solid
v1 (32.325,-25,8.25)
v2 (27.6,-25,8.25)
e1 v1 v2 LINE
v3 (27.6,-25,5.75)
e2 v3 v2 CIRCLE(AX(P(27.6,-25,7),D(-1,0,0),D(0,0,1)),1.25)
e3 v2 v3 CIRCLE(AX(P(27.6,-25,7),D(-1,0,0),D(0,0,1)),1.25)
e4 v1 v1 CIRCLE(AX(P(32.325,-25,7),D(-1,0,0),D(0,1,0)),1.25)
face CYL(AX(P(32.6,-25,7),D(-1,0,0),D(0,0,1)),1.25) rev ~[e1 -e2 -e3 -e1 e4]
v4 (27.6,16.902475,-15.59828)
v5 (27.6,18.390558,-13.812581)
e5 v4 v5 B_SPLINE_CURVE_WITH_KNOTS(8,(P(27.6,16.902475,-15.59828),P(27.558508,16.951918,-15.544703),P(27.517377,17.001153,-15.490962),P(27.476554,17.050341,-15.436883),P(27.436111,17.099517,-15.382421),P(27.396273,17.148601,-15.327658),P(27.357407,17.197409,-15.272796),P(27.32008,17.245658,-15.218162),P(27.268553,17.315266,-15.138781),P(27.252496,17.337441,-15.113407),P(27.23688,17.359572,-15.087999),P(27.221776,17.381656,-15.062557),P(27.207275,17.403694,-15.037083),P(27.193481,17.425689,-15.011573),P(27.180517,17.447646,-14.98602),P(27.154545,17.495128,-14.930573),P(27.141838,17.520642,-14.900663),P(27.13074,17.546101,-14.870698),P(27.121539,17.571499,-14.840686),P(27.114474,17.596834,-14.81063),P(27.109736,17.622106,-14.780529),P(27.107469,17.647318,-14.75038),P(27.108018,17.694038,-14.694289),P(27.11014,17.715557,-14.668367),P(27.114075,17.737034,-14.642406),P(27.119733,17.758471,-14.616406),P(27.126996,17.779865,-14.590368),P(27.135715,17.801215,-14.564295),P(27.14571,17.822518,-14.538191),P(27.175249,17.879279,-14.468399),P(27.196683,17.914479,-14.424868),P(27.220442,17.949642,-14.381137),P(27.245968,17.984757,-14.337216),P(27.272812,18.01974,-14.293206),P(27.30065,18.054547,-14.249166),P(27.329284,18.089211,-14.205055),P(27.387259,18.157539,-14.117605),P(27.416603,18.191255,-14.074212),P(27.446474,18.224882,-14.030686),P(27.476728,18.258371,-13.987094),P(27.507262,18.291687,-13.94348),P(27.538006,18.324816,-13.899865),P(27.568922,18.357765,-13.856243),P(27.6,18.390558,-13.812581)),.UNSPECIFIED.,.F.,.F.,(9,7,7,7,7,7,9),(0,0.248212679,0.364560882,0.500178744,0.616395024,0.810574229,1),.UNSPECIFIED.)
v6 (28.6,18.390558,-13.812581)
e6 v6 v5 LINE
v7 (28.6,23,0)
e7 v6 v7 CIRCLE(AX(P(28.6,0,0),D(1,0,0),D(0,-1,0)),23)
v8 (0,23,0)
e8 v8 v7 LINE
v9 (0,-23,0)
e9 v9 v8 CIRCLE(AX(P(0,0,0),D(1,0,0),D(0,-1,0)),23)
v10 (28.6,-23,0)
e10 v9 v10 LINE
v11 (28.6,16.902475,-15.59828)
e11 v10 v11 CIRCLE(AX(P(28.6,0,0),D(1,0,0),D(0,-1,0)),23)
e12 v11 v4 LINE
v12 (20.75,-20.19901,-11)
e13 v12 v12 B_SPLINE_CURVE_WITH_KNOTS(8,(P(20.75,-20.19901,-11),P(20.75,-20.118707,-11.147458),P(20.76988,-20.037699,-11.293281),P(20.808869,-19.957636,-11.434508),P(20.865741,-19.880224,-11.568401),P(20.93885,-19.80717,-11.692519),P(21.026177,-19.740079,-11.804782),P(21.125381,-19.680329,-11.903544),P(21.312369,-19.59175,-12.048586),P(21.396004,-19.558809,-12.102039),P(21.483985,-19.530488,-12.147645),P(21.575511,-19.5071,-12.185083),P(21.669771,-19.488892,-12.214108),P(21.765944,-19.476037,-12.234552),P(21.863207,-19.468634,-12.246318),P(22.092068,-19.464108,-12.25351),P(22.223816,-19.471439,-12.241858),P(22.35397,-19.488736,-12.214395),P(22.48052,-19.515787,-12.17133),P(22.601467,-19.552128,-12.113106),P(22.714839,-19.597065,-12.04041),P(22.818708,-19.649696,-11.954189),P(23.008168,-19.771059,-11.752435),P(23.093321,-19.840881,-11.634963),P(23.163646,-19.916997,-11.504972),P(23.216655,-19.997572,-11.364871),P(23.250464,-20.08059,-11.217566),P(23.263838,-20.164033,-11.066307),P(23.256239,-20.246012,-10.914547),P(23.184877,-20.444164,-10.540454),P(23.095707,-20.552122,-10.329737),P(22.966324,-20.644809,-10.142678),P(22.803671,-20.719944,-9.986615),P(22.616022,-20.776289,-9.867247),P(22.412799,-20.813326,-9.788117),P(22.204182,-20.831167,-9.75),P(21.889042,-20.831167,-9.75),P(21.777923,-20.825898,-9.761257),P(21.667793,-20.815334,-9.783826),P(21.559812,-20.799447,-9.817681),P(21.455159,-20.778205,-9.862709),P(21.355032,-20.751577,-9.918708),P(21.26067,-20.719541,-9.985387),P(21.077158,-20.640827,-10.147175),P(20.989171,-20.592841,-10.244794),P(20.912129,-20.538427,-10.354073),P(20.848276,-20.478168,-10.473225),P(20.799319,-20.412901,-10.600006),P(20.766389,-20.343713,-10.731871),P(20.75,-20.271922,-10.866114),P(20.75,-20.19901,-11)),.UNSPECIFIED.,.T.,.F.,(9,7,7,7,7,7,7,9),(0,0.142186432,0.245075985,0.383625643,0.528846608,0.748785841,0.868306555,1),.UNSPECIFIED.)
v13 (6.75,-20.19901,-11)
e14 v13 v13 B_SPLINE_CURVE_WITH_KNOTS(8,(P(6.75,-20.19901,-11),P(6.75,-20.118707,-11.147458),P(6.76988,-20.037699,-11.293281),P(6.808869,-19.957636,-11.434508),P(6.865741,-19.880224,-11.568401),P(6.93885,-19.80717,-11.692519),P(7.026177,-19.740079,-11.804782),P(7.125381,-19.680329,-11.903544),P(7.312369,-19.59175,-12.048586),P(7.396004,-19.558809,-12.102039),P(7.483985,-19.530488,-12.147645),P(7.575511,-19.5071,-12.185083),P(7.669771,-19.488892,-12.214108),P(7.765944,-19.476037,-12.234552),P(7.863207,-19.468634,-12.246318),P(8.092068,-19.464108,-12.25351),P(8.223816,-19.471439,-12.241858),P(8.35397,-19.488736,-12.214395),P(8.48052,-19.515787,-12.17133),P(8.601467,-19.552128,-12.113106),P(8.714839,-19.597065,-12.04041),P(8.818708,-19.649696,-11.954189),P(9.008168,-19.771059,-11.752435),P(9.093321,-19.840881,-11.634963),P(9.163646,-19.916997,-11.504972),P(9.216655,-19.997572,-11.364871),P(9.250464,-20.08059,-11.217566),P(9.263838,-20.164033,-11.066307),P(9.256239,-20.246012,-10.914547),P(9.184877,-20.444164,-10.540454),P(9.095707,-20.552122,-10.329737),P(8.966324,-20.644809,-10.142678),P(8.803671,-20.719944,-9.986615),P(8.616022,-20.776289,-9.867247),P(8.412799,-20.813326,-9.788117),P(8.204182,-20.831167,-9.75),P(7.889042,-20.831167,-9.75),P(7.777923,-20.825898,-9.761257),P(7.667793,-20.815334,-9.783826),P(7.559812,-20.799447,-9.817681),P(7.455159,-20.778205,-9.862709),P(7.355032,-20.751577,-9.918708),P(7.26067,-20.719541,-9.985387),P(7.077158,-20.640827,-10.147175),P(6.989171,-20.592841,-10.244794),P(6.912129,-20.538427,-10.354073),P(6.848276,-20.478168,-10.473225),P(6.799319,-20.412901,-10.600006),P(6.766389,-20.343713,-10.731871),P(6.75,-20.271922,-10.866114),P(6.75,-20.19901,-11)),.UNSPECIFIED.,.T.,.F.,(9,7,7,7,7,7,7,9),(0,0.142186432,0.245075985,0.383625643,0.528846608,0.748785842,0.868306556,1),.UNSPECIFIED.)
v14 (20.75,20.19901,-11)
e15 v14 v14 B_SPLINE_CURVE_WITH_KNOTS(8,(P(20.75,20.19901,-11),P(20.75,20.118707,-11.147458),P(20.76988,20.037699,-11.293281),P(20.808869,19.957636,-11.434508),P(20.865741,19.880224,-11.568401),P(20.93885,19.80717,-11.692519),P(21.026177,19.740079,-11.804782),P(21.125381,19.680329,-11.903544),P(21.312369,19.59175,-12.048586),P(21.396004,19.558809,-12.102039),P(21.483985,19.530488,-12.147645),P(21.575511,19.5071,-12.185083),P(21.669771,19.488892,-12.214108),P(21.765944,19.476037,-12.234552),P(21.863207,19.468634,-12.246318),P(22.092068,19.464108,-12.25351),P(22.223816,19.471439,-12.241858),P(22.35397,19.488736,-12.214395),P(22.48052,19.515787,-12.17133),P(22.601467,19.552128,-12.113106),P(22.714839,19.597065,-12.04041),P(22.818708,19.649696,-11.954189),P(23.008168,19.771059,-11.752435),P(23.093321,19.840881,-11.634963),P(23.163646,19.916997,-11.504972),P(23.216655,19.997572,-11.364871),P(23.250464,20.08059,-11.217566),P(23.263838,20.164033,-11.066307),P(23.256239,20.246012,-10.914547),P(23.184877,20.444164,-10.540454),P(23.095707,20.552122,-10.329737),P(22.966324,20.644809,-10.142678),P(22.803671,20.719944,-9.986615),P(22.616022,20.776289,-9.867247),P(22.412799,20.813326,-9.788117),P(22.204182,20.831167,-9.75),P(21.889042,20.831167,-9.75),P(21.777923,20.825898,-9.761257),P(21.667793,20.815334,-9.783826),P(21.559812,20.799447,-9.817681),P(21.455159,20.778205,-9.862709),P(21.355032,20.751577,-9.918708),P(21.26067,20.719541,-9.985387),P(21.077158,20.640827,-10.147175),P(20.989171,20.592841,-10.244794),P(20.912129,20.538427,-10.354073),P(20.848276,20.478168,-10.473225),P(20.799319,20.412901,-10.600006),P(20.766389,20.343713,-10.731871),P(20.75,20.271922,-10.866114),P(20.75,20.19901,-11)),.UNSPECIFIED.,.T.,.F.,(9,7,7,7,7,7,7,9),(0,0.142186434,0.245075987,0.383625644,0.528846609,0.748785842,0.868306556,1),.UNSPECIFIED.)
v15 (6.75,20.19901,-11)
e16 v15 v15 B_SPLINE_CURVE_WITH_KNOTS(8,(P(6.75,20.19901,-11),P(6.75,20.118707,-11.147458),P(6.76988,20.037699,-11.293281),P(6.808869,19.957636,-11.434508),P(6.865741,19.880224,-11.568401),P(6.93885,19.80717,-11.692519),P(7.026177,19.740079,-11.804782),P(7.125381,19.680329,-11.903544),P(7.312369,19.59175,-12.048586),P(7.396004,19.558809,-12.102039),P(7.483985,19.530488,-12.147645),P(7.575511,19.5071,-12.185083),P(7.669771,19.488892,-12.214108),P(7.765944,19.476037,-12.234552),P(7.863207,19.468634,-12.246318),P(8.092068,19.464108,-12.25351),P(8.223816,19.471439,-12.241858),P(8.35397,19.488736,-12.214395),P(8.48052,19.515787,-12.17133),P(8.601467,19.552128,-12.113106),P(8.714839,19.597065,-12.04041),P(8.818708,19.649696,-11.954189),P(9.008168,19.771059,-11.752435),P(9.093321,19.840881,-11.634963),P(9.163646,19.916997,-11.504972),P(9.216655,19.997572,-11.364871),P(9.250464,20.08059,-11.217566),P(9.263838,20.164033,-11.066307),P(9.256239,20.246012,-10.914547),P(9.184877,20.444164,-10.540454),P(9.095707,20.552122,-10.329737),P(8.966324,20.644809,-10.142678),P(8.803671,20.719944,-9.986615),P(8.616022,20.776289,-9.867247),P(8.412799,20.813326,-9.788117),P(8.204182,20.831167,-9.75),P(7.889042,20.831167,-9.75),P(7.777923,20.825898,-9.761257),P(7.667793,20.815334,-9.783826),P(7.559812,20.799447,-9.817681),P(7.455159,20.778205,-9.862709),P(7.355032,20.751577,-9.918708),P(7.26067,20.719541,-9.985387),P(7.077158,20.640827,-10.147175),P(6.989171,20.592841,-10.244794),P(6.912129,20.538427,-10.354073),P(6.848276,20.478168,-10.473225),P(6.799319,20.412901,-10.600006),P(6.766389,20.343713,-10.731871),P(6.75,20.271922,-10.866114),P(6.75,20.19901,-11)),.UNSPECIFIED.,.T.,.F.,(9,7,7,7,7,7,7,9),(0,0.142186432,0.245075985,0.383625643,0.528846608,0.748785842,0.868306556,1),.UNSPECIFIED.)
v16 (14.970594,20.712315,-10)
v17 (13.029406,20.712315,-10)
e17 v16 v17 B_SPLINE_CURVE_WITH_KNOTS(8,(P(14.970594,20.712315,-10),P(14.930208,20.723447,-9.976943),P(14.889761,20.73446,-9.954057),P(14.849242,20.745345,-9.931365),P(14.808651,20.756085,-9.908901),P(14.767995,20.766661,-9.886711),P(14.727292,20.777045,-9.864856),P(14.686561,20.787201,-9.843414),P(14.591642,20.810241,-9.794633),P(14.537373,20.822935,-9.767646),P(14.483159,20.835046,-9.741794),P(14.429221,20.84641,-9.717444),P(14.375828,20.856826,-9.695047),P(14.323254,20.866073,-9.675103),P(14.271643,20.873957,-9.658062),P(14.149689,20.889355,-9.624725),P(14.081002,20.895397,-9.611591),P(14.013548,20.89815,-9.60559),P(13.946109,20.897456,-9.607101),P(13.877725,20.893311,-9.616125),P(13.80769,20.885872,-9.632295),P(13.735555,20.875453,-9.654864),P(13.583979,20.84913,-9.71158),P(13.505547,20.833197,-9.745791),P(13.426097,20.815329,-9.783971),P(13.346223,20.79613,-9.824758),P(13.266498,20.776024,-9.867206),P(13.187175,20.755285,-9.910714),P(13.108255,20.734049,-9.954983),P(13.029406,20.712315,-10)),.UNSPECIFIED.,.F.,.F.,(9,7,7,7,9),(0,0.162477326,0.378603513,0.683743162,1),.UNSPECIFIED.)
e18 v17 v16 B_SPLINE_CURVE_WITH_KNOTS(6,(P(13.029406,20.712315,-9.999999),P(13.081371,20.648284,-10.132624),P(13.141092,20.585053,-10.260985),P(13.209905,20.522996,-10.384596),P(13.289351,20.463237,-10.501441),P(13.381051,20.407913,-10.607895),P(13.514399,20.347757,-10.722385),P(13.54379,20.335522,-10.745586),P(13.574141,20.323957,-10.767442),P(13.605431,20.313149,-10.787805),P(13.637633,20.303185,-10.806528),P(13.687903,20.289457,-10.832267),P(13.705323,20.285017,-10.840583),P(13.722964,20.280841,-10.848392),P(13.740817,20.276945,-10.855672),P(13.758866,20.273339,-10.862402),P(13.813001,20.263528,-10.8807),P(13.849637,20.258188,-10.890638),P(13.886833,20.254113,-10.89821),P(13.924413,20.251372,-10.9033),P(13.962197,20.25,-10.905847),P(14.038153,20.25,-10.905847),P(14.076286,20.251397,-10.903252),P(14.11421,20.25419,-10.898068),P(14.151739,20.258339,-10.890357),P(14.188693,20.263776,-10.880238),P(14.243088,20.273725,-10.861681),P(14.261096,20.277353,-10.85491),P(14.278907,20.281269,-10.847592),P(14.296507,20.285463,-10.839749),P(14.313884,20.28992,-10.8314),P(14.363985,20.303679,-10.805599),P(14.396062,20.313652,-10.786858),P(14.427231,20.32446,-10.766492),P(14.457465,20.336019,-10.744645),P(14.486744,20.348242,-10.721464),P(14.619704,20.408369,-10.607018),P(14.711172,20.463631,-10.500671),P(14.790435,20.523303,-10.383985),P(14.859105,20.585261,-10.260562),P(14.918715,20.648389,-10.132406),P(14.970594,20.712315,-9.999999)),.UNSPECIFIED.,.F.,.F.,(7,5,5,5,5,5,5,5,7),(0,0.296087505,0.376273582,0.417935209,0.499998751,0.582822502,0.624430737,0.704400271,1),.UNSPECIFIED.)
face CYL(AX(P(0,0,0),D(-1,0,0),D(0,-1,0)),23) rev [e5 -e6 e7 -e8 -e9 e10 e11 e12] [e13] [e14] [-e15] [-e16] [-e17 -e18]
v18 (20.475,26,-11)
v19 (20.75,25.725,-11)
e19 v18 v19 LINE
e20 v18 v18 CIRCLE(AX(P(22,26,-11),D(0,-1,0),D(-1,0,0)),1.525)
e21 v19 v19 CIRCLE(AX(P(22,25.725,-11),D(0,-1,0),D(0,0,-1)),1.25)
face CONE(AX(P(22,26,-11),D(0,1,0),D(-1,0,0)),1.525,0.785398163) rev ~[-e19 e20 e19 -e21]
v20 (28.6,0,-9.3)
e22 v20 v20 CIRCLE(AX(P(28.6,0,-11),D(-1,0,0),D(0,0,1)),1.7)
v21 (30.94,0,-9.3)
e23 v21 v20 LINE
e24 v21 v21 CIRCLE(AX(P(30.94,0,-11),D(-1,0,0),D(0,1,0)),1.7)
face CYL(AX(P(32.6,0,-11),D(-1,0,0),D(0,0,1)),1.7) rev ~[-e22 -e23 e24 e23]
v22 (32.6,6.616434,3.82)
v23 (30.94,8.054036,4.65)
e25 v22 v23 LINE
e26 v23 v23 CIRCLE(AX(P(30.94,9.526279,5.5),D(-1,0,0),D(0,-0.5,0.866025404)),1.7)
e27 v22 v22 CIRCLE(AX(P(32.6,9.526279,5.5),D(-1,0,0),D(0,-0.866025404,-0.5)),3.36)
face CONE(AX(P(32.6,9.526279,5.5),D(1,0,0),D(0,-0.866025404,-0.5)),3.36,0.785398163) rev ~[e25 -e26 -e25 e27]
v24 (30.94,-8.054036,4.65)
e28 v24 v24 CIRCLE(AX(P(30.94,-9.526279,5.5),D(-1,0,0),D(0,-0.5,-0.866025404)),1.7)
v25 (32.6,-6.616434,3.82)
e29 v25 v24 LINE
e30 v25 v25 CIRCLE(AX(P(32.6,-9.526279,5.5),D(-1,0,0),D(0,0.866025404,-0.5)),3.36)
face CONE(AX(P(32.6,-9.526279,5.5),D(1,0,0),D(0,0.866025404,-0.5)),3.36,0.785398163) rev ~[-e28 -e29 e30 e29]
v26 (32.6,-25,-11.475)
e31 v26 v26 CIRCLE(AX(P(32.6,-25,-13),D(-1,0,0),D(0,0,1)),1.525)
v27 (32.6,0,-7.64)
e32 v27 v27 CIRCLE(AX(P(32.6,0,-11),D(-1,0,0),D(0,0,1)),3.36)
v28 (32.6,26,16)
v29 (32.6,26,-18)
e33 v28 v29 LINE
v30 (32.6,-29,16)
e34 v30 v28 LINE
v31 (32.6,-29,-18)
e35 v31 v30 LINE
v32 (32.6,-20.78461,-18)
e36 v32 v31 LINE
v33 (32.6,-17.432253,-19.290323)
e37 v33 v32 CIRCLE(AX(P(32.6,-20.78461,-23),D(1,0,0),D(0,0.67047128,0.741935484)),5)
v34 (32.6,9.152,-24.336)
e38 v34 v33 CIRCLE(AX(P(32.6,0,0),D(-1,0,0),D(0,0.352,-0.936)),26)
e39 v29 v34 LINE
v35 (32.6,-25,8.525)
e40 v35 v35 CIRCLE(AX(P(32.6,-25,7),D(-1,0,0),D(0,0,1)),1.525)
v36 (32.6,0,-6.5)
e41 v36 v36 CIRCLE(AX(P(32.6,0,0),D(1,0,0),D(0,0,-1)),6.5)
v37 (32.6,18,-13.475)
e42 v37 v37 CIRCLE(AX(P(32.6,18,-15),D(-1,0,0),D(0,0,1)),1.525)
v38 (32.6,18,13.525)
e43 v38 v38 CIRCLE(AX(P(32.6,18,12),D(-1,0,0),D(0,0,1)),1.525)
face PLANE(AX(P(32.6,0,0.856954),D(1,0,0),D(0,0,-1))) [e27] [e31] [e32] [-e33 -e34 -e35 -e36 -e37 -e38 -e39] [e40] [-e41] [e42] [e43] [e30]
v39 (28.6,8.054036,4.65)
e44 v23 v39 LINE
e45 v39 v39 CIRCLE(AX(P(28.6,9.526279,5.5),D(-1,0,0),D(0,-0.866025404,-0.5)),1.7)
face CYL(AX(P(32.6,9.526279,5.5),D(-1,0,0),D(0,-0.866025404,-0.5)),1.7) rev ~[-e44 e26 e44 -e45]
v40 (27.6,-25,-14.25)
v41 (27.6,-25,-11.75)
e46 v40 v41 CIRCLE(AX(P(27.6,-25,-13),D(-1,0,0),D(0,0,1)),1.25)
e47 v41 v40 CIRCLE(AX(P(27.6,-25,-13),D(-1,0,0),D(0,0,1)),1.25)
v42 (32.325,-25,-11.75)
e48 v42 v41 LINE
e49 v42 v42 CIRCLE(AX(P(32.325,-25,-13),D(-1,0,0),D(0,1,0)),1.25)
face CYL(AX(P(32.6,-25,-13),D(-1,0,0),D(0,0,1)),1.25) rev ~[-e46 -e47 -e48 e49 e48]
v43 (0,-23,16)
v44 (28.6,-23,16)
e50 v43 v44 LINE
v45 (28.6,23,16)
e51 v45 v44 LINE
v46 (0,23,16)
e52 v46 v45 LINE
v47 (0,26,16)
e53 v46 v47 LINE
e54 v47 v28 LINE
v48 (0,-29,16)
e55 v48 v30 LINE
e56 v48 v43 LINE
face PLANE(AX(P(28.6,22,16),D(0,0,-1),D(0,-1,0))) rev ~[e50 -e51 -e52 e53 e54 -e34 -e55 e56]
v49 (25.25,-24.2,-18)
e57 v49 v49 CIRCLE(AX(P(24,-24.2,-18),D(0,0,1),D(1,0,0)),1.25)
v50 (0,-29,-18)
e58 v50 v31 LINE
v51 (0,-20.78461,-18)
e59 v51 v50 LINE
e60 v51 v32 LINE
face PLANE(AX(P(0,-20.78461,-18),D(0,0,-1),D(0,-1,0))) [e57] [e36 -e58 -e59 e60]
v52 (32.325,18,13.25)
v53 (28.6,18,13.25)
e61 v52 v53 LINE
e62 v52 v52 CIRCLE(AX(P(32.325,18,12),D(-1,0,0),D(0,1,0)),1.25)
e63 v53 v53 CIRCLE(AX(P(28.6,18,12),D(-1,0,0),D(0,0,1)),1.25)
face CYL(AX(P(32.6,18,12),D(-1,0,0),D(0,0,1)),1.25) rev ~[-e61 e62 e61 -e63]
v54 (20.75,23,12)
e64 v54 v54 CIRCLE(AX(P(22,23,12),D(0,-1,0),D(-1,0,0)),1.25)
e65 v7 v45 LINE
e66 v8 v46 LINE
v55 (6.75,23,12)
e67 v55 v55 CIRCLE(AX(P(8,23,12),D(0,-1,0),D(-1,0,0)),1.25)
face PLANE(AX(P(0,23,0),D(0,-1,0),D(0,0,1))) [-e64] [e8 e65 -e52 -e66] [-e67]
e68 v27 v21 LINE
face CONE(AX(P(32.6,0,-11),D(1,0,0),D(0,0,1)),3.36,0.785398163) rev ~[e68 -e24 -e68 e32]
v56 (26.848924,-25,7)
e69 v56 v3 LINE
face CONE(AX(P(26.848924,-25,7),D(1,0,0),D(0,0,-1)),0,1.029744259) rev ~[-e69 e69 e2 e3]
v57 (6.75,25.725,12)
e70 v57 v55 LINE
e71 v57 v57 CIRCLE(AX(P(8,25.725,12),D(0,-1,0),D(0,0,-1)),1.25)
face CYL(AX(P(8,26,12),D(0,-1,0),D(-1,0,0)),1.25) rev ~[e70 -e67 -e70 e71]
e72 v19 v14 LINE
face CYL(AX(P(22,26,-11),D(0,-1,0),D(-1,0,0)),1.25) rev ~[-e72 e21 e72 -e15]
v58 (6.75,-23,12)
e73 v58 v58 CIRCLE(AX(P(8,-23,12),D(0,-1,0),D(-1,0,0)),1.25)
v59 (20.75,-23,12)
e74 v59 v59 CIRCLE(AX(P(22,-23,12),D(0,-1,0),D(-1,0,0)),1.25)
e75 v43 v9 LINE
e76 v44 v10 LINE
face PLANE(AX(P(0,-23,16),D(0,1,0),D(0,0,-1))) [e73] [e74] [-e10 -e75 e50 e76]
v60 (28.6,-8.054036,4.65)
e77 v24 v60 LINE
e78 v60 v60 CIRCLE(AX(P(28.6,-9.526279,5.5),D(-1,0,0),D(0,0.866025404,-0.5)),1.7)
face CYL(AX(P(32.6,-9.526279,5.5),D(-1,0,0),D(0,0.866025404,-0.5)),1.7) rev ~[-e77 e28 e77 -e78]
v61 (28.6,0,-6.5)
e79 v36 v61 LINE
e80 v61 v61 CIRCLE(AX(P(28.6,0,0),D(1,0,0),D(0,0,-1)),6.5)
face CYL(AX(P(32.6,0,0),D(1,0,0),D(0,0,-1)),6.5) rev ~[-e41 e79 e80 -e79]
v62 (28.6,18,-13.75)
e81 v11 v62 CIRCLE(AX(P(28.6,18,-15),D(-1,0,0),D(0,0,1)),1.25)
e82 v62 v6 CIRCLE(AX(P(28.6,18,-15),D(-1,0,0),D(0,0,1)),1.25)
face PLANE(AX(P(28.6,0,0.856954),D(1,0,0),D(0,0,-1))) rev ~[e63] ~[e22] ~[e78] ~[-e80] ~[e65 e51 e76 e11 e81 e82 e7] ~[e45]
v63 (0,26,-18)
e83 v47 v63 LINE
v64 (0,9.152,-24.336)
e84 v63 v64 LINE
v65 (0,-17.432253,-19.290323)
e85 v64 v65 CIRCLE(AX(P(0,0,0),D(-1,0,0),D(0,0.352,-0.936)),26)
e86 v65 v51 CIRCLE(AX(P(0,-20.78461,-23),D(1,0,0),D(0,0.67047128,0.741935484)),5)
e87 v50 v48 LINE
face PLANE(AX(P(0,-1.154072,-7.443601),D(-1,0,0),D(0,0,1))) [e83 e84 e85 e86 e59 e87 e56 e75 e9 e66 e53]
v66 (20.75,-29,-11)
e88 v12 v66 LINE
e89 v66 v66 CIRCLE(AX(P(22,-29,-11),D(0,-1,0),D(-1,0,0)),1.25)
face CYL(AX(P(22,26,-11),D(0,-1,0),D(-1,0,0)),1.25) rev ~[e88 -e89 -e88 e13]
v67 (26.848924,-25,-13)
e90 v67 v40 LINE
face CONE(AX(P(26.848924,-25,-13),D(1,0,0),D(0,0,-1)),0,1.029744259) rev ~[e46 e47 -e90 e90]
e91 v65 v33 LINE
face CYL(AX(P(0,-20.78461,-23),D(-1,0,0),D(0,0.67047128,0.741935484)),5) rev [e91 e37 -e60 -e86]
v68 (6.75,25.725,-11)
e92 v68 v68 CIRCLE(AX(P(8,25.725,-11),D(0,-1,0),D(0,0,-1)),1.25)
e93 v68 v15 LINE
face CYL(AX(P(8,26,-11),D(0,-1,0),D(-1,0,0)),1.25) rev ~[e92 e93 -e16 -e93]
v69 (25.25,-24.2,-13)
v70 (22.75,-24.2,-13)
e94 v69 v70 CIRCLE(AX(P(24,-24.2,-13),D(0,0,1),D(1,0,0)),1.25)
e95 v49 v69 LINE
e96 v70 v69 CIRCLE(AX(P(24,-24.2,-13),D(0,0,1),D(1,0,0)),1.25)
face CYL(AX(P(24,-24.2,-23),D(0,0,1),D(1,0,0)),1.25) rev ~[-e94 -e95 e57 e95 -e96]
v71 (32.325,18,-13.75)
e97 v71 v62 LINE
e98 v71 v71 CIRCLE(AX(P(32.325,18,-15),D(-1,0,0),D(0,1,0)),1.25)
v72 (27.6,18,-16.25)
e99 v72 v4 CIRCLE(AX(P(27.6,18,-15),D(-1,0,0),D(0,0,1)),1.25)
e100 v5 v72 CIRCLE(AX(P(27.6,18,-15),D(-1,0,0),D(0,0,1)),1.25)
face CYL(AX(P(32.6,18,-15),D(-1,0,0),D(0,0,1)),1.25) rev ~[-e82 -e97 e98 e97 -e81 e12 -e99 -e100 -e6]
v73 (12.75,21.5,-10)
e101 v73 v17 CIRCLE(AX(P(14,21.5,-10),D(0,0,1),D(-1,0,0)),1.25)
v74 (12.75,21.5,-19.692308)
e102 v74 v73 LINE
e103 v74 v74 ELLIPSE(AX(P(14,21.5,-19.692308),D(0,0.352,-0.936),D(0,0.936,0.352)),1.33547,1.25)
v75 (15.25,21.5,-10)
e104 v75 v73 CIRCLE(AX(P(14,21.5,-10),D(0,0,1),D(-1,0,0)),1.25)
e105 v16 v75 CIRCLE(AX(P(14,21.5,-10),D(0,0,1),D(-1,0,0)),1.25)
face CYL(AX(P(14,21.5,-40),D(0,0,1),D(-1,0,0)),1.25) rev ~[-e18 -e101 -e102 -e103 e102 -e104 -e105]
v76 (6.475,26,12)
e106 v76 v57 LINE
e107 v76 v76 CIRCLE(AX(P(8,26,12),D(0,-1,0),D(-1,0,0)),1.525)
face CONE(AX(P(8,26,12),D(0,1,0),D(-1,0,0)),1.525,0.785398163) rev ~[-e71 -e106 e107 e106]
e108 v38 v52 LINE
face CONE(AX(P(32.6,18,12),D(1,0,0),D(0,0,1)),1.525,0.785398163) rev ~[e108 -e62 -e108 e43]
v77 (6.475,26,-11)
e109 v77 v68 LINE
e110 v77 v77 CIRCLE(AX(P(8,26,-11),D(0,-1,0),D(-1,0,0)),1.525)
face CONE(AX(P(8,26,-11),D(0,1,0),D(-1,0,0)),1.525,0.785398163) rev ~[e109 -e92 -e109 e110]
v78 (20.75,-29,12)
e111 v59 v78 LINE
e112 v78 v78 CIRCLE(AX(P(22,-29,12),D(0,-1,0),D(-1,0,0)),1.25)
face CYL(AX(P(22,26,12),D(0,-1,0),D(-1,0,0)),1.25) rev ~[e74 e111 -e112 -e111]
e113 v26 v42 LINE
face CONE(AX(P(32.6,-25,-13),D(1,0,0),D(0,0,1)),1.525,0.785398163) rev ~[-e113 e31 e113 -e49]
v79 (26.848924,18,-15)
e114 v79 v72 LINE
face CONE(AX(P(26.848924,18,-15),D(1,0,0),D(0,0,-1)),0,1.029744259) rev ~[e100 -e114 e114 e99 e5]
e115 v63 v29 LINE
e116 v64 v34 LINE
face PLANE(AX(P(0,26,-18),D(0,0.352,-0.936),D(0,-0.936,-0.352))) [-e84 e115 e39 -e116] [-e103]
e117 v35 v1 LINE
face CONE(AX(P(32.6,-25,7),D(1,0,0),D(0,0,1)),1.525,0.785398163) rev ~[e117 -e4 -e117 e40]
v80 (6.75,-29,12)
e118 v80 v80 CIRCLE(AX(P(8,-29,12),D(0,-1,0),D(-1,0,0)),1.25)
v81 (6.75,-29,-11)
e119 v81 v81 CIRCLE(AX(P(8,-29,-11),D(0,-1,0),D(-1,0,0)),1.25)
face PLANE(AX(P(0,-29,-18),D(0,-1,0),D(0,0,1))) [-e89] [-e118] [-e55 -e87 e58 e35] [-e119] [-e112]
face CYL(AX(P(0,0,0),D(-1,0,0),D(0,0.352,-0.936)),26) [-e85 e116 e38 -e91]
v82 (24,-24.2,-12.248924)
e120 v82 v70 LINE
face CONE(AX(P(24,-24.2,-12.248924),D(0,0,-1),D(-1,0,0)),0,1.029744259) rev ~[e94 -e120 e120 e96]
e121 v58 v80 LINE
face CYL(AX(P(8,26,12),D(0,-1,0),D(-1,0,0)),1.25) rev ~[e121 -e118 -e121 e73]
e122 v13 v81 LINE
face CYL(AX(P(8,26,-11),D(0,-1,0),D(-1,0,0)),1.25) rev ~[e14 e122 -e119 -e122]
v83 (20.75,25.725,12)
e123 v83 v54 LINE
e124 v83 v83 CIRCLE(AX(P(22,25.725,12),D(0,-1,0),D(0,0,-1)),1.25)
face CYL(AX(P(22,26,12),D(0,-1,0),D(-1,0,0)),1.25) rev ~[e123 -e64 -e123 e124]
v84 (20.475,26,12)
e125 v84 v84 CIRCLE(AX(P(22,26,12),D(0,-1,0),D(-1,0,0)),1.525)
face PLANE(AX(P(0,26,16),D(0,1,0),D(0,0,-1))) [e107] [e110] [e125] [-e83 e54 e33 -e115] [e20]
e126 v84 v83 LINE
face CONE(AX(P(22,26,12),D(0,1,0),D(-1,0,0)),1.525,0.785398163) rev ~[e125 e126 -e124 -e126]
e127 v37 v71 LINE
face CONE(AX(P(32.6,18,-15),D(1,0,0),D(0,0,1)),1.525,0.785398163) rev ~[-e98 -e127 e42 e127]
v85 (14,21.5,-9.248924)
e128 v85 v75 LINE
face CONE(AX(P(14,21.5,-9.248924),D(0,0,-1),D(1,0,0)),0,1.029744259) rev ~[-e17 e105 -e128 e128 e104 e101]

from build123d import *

# Parameters (mm, degrees)
MOTOR_SHELL_DEPTH               = 32.6
MOTOR_MOUNT_DEPTH               = 4
MOUNTING_HOLE_D                 = 3.4
MOUNTING_HOLE_CSINK_D           = 6.72
MOUNTING_HOLE_CSINK_ANGLE       = 90
HOLE_DUPLICATION_COUNT          = 3
SKETCH11_R                      = 6.5
SHAFT_BASE_CUTOUT_DEPTH         = 33.6
M3X0_5_TAPPED_HOLE1_D           = 2.5
M3X0_5_TAPPED_HOLE1_DEPTH       = 5
M3X0_5_TAPPED_HOLE1_CSINK_D     = 3.05
M3X0_5_TAPPED_HOLE1_CSINK_ANGLE = 90
M3X0_5_TAPPED_HOLE1_TIP         = 0.751075774
M3X0_5_TAPPED_HOLE2_D           = 2.5
M3X0_5_TAPPED_HOLE2_CSINK_D     = 3.05
M3X0_5_TAPPED_HOLE2_CSINK_ANGLE = 90
M3X0_5_TAPPED_HOLE3_D           = 2.5
M3X0_5_TAPPED_HOLE3_DEPTH       = 5
M3X0_5_TAPPED_HOLE3_TIP         = 0.751075774
TAP_DRILL_FOR_M3X0_5_TAP2_D     = 2.5
TAP_DRILL_FOR_M3X0_5_TAP2_DEPTH = 15
TAP_DRILL_FOR_M3X0_5_TAP2_TIP   = 0.751075774
CUT_EXTRUDE1_DEPTH              = 28.6


with BuildPart() as part:
    # Motor Shell Profile → Motor Shell (new body)
    with BuildSketch(Plane(origin=(0, 0, 0), x_dir=(0, 0, -1), z_dir=(1, 0, 0))):
        with BuildLine():
            Line((0, 22), (-16, 22))
            Line((-16, 22), (-16, 26))
            Line((-16, 26), (18, 26))
            Line((18, 26), (24.336, 9.152))
            ThreePointArc((24.336, 9.152), (25.543974558, -4.848233058), (19.290322581, -17.432253289))
            ThreePointArc((19.290322581, -17.432253289), (18.333717374, -18.988556671), (18, -20.784609691))
            Line((18, -20.784609691), (18, -29))
            Line((18, -29), (-16, -29))
            Line((-16, -29), (-16, -22))
            Line((-16, -22), (0, -22))
            ThreePointArc((0, -22), (22, 0), (0, 22))
        make_face()
    extrude(amount=MOTOR_SHELL_DEPTH)

    # Sketch3 → Motor Mount (add)
    with BuildSketch(Plane(origin=(28.6, 0, 0), x_dir=(0, 0, -1), z_dir=(1, 0, 0))):
        with BuildLine():
            Line((0, 22), (-16, 22))
            Line((-16, 22), (-16, -22))
            Line((-16, -22), (0, -22))
            ThreePointArc((0, -22), (22, 0), (0, 22))
        make_face()
    extrude(amount=MOTOR_MOUNT_DEPTH)

    # Mounting Hole (through all)
    with Locations(Plane(origin=(32.6, 0, 0), x_dir=(0, 0, -1), z_dir=(1, 0, 0))):
        with Locations((11, 0)):
            mounting_hole = CounterSinkHole(MOUNTING_HOLE_D / 2, MOUNTING_HOLE_CSINK_D / 2, counter_sink_angle=MOUNTING_HOLE_CSINK_ANGLE)

    # Hole Duplication: Mounting Hole ×3 about axis
    hole_duplication_axis = Axis((0, 0, 0), (1, 0, 0))
    for i in range(1, HOLE_DUPLICATION_COUNT):
        add(mounting_hole.rotate(hole_duplication_axis, i * 360 / HOLE_DUPLICATION_COUNT), mode=Mode.SUBTRACT)

    # Sketch11 → Shaft Base Cutout (cut, through all)
    with BuildSketch(Plane(origin=(32.6, 0, 0), x_dir=(0, 0, -1), z_dir=(1, 0, 0))):
        Circle(SKETCH11_R)
    extrude(amount=-SHAFT_BASE_CUTOUT_DEPTH, mode=Mode.SUBTRACT)

    # M3x0.5 Tapped Hole1
    with Locations(Plane(origin=(32.6, 0, 0), x_dir=(0, 0, -1), z_dir=(1, 0, 0))):
        with Locations((-7, -25), (13, -25), (-12, 18), (15, 18)):
            CounterSinkHole(M3X0_5_TAPPED_HOLE1_D / 2, M3X0_5_TAPPED_HOLE1_CSINK_D / 2, depth=M3X0_5_TAPPED_HOLE1_DEPTH, counter_sink_angle=M3X0_5_TAPPED_HOLE1_CSINK_ANGLE)
            with Locations((0, 0, -(M3X0_5_TAPPED_HOLE1_DEPTH + M3X0_5_TAPPED_HOLE1_TIP / 2))):  # 118° drill point
                Cone(0, M3X0_5_TAPPED_HOLE1_D / 2, M3X0_5_TAPPED_HOLE1_TIP, mode=Mode.SUBTRACT)

    # M3x0.5 Tapped Hole2 (through all)
    with Locations(Plane(origin=(0, 26, 0), x_dir=(1, 0, 0), z_dir=(0, 1, 0))):
        with Locations((22, -12), (8, -12), (8, 11), (22, 11)):
            CounterSinkHole(M3X0_5_TAPPED_HOLE2_D / 2, M3X0_5_TAPPED_HOLE2_CSINK_D / 2, counter_sink_angle=M3X0_5_TAPPED_HOLE2_CSINK_ANGLE)

    # M3x0.5 Tapped Hole3
    with Locations(Plane(origin=(0, 0, -18), x_dir=(-1, 0, 0), z_dir=(0, 0, -1))):
        with Locations((-24, -24.2)):
            Hole(M3X0_5_TAPPED_HOLE3_D / 2, depth=M3X0_5_TAPPED_HOLE3_DEPTH)
            with Locations((0, 0, -(M3X0_5_TAPPED_HOLE3_DEPTH + M3X0_5_TAPPED_HOLE3_TIP / 2))):  # 118° drill point
                Cone(0, M3X0_5_TAPPED_HOLE3_D / 2, M3X0_5_TAPPED_HOLE3_TIP, mode=Mode.SUBTRACT)

    # Tap Drill for M3x0.5 Tap2
    with Locations(Plane(origin=(0, 0, -25), x_dir=(1, 0, 0), z_dir=(0, 0, -1))):
        with Locations((14, -21.5)):
            Hole(TAP_DRILL_FOR_M3X0_5_TAP2_D / 2, depth=TAP_DRILL_FOR_M3X0_5_TAP2_DEPTH)
            with Locations((0, 0, -(TAP_DRILL_FOR_M3X0_5_TAP2_DEPTH + TAP_DRILL_FOR_M3X0_5_TAP2_TIP / 2))):  # 118° drill point
                Cone(0, TAP_DRILL_FOR_M3X0_5_TAP2_D / 2, TAP_DRILL_FOR_M3X0_5_TAP2_TIP, mode=Mode.SUBTRACT)

    # Sketch25 → Cut-Extrude1 (cut)
    with BuildSketch(Plane.ZY):
        with BuildLine():
            Line((0, 23), (16, 23))
            Line((16, 23), (16, -23))
            Line((16, -23), (0, -23))
            ThreePointArc((0, -23), (-23, 0), (0, 23))
        make_face()
    extrude(amount=-CUT_EXTRUDE1_DEPTH, mode=Mode.SUBTRACT)


solid = part.part
